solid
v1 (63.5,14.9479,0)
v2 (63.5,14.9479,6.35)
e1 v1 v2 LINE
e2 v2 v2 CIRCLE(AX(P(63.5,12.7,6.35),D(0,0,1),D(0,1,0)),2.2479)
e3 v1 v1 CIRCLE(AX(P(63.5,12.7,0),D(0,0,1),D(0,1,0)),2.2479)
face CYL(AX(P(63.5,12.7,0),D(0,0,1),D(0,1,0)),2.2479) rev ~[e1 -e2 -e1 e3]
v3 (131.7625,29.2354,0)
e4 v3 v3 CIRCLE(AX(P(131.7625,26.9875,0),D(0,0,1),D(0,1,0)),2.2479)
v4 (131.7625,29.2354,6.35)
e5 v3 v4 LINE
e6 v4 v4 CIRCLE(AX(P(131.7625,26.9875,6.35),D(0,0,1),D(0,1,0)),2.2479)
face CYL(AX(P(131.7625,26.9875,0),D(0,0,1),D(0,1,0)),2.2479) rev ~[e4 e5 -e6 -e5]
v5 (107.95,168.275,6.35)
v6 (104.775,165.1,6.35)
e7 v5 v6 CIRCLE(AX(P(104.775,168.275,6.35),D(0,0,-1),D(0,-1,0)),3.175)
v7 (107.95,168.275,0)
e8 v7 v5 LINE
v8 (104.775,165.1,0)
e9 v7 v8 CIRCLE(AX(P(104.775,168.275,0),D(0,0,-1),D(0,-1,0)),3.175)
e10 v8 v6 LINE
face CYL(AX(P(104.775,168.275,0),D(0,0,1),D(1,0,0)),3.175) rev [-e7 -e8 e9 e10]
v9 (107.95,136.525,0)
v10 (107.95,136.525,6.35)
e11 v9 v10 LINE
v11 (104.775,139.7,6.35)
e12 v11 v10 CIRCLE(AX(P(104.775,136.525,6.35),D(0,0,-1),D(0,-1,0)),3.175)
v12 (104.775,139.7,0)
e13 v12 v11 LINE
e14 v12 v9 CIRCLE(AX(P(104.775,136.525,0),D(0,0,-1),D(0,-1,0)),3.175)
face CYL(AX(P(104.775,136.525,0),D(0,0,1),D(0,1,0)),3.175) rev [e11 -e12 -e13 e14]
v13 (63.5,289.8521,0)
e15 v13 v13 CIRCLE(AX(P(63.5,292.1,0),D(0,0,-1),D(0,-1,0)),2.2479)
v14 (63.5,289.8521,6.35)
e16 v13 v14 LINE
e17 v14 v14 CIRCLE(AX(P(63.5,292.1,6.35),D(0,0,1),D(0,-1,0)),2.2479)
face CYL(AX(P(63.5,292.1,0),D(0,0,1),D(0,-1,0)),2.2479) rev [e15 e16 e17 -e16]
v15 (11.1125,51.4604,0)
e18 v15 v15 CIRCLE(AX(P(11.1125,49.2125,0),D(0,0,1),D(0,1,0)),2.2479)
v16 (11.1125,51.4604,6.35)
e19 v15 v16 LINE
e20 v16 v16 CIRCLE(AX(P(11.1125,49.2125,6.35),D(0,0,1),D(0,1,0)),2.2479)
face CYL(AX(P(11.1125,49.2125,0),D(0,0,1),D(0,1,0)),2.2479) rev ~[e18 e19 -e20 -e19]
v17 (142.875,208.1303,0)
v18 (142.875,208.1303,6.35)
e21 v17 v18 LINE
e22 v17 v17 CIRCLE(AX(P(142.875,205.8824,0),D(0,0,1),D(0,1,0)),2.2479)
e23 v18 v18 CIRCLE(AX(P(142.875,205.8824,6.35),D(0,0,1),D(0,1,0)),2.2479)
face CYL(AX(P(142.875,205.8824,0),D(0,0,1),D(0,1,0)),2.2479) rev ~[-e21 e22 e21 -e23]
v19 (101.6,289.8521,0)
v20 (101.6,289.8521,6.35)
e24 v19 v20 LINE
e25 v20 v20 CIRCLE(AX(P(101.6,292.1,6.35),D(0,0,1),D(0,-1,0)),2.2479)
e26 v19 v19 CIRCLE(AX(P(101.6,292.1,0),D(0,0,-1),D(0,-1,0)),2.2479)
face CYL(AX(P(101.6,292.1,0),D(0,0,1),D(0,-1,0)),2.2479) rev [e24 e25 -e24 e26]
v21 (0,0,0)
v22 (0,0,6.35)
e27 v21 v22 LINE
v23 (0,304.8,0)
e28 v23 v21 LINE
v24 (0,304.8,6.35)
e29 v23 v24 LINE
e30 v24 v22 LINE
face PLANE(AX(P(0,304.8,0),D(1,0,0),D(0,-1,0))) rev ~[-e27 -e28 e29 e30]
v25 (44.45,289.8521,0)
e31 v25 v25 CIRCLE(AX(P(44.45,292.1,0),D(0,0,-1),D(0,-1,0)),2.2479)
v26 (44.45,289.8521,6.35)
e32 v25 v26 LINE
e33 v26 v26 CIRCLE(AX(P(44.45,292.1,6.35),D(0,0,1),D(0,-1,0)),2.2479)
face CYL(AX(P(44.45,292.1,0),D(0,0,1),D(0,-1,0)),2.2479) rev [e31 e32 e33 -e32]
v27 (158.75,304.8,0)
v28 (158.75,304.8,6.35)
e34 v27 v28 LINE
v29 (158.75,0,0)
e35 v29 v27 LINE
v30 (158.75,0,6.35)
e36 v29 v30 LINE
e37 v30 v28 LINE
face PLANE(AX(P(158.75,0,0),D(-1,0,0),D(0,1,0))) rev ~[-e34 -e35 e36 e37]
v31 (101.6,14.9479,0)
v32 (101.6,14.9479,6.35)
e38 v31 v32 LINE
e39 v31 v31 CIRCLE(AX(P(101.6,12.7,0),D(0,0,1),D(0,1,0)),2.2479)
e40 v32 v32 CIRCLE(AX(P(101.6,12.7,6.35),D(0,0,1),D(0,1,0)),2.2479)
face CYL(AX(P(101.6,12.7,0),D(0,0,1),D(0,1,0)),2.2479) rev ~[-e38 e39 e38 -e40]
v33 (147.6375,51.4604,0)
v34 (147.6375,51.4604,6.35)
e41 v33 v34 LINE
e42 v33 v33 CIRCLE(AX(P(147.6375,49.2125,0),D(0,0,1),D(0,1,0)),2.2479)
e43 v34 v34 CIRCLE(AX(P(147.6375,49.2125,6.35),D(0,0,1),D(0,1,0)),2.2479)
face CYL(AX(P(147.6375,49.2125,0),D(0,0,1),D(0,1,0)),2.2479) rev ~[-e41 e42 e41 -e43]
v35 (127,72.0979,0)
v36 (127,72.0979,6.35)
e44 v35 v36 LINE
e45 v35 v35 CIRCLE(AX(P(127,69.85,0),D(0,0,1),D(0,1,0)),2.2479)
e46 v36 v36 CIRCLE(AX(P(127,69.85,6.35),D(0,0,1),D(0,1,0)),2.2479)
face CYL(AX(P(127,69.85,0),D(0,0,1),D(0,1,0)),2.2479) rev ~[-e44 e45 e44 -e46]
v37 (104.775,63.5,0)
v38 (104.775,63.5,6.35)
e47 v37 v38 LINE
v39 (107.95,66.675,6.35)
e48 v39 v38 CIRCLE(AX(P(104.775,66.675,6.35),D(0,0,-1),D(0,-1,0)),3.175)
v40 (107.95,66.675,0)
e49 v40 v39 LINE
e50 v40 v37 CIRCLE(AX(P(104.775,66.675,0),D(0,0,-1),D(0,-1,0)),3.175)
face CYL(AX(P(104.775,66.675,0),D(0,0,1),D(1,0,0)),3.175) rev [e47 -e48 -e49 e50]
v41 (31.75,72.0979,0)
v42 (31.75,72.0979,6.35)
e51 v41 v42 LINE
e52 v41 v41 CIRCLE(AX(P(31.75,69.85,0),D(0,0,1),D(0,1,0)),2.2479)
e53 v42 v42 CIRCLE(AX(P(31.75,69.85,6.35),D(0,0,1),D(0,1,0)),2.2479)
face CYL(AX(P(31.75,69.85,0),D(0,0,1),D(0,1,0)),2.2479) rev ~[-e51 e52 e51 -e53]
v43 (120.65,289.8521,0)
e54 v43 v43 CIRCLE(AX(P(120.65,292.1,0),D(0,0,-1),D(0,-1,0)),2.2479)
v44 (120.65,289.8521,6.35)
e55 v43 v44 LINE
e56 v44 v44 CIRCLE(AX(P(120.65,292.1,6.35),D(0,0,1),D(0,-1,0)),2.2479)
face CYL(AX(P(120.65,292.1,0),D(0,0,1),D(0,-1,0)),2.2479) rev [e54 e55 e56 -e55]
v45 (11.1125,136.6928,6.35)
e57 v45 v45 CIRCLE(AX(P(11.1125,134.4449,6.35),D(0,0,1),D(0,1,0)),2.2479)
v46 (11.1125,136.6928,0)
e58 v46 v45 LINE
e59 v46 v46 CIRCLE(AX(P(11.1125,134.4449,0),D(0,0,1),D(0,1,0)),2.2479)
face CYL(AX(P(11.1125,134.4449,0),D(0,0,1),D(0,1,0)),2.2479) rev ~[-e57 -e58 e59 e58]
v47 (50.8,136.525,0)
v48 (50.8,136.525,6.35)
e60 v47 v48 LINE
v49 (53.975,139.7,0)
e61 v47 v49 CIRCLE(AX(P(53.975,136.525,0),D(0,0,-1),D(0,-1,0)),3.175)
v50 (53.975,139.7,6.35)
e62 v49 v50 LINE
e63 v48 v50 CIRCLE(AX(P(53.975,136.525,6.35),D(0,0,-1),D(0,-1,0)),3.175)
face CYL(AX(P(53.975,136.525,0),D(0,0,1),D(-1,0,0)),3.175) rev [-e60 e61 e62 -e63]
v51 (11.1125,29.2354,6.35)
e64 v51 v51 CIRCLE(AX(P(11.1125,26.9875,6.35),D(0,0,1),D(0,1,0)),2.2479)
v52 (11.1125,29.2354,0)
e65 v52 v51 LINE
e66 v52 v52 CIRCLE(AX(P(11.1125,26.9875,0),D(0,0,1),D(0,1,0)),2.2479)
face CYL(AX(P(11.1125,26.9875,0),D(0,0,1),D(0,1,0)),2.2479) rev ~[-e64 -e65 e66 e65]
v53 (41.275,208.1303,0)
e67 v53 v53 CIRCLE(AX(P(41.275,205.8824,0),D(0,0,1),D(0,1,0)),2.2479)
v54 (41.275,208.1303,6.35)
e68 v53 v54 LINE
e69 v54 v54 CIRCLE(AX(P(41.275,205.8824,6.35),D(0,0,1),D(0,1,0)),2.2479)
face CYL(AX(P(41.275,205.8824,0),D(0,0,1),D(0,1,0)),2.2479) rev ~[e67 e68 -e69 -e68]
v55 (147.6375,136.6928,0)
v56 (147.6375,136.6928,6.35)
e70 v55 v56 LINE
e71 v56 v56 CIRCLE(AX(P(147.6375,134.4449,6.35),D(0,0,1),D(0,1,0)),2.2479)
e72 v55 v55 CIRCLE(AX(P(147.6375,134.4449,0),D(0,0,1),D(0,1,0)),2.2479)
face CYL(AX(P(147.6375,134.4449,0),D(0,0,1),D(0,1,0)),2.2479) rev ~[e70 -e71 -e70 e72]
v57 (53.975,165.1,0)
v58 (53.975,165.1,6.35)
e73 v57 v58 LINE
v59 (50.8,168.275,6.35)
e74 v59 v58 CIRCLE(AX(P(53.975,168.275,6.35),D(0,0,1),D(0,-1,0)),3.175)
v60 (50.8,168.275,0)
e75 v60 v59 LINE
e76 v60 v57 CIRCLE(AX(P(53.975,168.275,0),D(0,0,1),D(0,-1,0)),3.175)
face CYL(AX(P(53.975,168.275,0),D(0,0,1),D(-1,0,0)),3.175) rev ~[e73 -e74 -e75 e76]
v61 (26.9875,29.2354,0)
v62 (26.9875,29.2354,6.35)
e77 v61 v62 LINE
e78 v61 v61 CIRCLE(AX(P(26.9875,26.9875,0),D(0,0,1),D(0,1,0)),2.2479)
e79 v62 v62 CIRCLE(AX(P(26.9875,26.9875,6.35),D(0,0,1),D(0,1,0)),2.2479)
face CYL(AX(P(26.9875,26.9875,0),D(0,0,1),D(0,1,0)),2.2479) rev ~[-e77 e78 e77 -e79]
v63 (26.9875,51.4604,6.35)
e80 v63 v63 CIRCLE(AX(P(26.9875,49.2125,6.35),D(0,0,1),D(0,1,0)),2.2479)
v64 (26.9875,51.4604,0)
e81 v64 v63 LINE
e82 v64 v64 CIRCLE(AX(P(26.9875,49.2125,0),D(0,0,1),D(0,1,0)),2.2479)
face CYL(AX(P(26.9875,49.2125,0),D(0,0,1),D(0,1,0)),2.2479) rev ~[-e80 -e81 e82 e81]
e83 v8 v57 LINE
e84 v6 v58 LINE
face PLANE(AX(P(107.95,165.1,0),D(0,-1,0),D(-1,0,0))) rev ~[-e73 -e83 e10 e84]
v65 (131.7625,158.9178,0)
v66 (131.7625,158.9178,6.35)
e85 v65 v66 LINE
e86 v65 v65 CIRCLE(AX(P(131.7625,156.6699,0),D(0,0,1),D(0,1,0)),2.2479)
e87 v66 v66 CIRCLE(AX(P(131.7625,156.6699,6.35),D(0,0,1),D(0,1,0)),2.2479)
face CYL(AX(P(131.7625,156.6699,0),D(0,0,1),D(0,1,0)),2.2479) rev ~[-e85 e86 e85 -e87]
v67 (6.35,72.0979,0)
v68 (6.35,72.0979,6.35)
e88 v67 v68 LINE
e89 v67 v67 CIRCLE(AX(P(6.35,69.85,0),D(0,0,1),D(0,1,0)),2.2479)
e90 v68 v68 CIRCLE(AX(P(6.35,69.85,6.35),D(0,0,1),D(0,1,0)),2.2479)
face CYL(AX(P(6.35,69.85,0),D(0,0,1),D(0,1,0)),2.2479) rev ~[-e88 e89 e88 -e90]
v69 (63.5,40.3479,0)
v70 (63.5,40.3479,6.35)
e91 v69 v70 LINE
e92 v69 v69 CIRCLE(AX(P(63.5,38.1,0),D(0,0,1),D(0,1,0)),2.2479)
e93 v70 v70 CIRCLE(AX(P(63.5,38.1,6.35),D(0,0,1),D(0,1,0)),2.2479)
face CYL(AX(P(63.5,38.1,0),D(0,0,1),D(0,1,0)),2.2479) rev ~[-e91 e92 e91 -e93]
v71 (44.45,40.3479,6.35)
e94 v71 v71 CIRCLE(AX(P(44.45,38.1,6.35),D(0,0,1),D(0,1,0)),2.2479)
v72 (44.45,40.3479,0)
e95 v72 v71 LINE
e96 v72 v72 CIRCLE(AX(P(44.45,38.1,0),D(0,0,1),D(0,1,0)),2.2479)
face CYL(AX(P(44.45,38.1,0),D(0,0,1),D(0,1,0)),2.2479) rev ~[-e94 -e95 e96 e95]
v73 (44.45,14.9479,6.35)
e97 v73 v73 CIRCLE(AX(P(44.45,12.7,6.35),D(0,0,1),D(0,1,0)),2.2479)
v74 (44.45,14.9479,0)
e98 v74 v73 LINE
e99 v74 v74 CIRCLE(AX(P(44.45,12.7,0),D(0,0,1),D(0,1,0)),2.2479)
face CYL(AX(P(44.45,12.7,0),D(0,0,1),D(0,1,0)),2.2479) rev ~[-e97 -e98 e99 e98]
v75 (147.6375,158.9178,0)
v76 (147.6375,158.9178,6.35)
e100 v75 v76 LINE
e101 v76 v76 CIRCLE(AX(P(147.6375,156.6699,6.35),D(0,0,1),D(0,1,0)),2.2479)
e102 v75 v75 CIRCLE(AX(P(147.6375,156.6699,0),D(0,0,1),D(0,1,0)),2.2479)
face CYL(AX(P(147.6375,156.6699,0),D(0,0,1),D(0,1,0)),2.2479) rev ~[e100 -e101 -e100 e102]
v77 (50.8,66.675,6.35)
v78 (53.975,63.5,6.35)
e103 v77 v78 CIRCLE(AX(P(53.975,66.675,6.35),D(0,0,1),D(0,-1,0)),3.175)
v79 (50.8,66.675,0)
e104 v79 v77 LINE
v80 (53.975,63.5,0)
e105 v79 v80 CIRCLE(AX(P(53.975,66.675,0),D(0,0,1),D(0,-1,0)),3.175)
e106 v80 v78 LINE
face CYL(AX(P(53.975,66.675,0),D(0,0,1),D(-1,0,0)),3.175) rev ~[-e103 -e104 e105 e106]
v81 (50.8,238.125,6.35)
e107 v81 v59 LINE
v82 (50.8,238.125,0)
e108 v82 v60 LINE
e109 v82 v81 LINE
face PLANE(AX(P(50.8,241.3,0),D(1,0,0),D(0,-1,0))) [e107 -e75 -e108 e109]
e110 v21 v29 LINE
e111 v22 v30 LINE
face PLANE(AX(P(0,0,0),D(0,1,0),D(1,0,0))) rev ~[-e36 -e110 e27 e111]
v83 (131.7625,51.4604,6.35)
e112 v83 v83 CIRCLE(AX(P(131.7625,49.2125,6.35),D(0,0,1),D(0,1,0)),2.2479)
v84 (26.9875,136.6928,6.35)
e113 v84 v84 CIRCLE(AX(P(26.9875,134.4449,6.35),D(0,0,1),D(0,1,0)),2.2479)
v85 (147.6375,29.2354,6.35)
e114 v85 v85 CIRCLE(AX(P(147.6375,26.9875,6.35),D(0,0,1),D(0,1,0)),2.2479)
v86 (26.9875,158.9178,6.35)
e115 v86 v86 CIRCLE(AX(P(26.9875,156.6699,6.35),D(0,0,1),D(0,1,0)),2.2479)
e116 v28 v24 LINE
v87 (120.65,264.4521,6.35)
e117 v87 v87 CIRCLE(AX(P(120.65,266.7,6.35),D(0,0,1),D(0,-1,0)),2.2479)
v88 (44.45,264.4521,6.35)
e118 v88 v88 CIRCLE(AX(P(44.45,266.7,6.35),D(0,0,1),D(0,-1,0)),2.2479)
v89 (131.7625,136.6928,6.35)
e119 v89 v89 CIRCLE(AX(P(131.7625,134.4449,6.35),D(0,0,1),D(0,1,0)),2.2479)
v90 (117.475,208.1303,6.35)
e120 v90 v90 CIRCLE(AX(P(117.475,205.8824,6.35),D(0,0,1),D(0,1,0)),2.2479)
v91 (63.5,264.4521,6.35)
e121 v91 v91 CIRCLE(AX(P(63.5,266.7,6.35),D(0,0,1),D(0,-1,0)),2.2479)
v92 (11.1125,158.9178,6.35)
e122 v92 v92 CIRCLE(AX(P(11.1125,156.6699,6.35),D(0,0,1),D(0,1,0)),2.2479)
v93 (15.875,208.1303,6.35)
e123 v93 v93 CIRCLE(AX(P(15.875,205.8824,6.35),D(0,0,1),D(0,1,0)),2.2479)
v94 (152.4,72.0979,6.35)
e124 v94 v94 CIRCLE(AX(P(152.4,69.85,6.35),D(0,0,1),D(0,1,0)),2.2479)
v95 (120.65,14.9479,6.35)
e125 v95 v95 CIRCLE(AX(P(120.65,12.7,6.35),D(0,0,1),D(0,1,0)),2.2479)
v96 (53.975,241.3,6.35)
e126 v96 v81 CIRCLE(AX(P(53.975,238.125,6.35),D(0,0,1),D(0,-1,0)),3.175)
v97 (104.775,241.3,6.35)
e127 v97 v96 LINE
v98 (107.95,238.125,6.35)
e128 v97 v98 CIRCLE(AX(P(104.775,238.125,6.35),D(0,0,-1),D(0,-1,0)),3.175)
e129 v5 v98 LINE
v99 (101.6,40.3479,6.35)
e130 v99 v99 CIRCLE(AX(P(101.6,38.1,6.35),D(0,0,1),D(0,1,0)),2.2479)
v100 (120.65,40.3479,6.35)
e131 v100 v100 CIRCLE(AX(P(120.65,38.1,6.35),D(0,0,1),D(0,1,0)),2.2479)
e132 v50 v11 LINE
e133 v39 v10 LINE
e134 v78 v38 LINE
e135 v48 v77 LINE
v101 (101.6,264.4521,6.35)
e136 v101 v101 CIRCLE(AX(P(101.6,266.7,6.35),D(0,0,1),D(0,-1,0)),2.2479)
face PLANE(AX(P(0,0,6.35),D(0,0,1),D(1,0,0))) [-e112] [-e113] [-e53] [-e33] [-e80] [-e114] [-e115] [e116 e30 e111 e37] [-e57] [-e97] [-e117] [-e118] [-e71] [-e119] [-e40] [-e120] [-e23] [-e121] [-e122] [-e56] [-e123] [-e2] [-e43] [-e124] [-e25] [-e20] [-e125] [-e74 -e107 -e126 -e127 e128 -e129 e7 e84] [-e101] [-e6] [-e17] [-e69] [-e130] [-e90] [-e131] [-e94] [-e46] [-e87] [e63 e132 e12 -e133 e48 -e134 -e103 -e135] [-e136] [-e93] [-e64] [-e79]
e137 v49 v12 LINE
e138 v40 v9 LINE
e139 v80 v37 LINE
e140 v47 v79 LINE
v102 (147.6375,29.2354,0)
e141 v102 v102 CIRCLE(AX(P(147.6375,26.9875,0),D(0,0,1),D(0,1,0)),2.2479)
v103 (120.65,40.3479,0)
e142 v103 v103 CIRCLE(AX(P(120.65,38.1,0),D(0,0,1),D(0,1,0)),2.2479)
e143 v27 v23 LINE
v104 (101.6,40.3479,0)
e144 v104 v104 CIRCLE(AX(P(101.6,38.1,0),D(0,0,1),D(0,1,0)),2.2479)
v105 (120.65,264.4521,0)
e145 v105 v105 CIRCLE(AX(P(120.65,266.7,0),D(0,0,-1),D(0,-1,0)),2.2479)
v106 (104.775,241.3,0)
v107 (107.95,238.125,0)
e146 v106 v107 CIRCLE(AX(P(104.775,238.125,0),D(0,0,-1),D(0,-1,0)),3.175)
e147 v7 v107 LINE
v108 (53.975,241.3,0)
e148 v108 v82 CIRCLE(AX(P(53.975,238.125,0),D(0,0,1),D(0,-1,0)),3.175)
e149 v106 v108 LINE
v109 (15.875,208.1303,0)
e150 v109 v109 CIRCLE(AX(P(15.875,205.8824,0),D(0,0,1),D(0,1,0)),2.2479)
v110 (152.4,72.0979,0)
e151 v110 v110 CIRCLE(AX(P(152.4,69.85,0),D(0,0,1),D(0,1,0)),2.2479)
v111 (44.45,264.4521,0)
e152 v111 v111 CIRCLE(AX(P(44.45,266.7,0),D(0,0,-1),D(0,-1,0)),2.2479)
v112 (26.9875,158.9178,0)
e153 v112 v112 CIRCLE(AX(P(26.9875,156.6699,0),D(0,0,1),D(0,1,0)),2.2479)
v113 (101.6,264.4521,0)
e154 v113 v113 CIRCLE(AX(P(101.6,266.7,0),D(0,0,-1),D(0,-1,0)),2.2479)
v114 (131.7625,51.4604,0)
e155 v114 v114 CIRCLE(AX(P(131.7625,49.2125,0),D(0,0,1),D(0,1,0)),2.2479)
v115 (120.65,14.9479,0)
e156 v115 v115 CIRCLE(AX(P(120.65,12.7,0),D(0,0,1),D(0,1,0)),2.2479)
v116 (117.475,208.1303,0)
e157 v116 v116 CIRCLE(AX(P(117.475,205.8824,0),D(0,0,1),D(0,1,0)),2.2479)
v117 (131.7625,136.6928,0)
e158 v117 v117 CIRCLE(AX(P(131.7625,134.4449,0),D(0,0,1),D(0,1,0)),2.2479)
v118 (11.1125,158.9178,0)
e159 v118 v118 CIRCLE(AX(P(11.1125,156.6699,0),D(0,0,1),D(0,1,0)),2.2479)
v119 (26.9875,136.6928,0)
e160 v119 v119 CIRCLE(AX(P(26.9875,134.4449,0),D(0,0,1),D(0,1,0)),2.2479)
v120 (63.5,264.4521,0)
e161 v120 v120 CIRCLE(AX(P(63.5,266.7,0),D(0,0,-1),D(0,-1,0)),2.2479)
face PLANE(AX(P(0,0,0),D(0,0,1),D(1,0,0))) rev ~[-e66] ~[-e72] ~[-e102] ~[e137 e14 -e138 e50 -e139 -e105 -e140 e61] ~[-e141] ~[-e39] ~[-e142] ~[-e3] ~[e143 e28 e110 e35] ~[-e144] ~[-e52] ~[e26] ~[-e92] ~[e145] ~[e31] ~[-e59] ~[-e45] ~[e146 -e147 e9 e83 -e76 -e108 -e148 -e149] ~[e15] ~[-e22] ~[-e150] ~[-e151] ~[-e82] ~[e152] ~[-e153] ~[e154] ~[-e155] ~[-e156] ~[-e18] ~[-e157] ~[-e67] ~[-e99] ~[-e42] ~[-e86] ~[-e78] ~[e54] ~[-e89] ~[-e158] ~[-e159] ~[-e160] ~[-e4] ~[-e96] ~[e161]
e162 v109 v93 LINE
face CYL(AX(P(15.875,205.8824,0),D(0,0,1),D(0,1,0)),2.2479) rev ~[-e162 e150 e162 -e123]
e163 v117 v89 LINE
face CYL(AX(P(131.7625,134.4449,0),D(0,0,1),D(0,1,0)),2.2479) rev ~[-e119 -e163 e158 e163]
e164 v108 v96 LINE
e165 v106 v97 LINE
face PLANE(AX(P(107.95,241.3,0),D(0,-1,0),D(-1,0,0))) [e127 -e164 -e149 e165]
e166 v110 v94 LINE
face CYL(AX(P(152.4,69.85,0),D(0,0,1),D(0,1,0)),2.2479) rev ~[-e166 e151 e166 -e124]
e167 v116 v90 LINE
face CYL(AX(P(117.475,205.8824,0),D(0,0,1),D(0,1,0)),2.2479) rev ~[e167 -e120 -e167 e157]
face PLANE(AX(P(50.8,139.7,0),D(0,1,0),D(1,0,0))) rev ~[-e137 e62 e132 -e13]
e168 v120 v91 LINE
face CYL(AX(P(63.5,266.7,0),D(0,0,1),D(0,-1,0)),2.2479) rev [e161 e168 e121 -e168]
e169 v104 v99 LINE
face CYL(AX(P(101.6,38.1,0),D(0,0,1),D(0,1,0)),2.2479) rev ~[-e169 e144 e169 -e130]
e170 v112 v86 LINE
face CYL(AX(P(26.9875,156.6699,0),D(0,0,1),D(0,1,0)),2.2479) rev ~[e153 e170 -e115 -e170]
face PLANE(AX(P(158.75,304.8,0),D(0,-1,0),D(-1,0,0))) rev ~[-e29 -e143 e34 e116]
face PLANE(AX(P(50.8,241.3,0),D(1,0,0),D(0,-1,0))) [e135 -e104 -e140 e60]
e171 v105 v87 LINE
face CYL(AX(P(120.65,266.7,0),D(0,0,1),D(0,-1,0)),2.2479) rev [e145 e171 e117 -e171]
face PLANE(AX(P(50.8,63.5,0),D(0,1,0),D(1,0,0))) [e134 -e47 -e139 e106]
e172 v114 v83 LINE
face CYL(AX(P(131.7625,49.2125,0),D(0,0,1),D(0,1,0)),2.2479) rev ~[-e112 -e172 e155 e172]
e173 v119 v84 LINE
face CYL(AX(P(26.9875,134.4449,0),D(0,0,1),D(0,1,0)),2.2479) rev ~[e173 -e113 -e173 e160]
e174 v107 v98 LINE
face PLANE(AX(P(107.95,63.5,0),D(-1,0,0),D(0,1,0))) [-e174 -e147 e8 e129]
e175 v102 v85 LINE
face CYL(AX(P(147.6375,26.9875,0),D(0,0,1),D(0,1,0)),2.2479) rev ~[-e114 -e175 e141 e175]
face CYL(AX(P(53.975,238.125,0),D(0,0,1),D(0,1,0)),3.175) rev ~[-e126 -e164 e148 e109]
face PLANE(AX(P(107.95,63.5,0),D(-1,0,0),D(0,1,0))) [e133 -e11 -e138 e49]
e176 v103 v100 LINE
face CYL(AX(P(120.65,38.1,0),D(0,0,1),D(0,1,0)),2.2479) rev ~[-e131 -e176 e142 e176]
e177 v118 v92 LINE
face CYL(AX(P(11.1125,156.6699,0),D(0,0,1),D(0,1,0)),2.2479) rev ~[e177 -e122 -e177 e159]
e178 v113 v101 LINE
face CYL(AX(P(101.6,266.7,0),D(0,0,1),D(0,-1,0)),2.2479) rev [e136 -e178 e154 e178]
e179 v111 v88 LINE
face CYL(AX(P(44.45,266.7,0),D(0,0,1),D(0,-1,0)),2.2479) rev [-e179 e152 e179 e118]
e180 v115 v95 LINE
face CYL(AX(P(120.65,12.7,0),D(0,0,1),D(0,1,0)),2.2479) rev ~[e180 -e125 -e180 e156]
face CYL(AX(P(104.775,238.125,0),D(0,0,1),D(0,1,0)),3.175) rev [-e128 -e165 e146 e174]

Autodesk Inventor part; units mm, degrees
ref_plane "YZ Plane" through (0, 0, 0) normal (1, 0, 0) x (0, 1, 0)
ref_plane "XZ Plane" through (0, 0, 0) normal (0, 1, 0) x (-1, 0, 0)
ref_plane "XY Plane" through (0, 0, 0) normal (0, 0, 1) x (1, 0, 0)
sketch "Sketch1" plane through (0, 0, 0) normal (0, 0, 1) x (1, 0, 0)
  line L0 (0, 0) -> (158.75, 0)
  line L1 (158.75, 0) -> (158.75, 304.8)
  line L2 (158.75, 304.8) -> (0, 304.8)
  line L3 (0, 304.8) -> (0, 0)
  dimension "d0" = 158.75
  dimension "d1" = 304.8
extrude "Extrusion1" add sketch "Sketch1" along normal blind 6.35
sketch "Sketch2" plane through (0, 0, 0) normal (0, 0, -1) x (-1, 0, 0)
  circle A0 centre (-117.475, 205.8824) radius 2.4638 projected
  line L0 (-177.2766, 228.1074) -> (-172.9586, 228.1074) projected
  circle A1 centre (-142.875, 205.8824) radius 2.4638 projected
  circle A2 centre (-41.275, 205.8824) radius 2.4638 projected
  circle A3 centre (-15.875, 205.8824) radius 2.4638 projected
  circle A4 centre (-147.6375, 26.9875) radius 2.4638 projected
  circle A5 centre (-131.7625, 26.9875) radius 2.4638 projected
  circle A6 centre (-131.7625, 49.2125) radius 2.4638 projected
  circle A7 centre (-147.6375, 49.2125) radius 2.4638 projected
  circle A8 centre (-26.9875, 26.9875) radius 2.4638 projected
  circle A9 centre (-11.1125, 26.9875) radius 2.4638 projected
  circle A10 centre (-11.1125, 49.2125) radius 2.4638 projected
  circle A11 centre (-26.9875, 49.2125) radius 2.4638 projected
  circle A12 centre (-11.1125, 156.6699) radius 2.4638 projected
  circle A13 centre (-11.1125, 134.4449) radius 2.4638 projected
  circle A14 centre (-26.9875, 134.4449) radius 2.4638 projected
  circle A15 centre (-26.9875, 156.6699) radius 2.4638 projected
  circle A16 centre (-147.6375, 134.4449) radius 2.4638 projected
  circle A17 centre (-131.7625, 134.4449) radius 2.4638 projected
  circle A18 centre (-147.6375, 156.6699) radius 2.4638 projected
  circle A19 centre (-131.7625, 156.6699) radius 2.4638 projected
  point P0 (0, 0)
sketch "Sketch3" plane through (0, 0, 0) normal (0, 0, -1) x (-1, 0, 0)
  line L0 (47.625, 49.2116) -> (-206.375, 49.2116) projected
  point P0 (0, 0)
  point P1 (-142.875, 205.8824)
  point P2 (-117.475, 205.8824)
  point P3 (-131.7625, 156.6699)
  point P4 (-147.6375, 156.6699)
  point P5 (-147.6375, 134.4449)
  point P6 (-131.7625, 134.4449)
  point P7 (-147.6375, 49.2125)
  point P8 (-131.7625, 49.2125)
  point P9 (-131.7625, 26.9875)
  point P10 (-147.6375, 26.9875)
  point P11 (-26.9875, 26.9875)
  point P12 (-11.1125, 26.9875)
  point P13 (-11.1125, 49.2125)
  point P14 (-26.9875, 49.2125)
  point P15 (-26.9875, 134.4449)
  point P16 (-11.1125, 134.4449)
  point P17 (-11.1125, 156.6699)
  point P18 (-26.9875, 156.6699)
  point P19 (-41.275, 205.8824)
  point P20 (-15.875, 205.8824)
hole "Hole1" at (142.875, 205.8824, 0) at (117.475, 205.8824, 0) at (41.275, 205.8824, 0) at (15.875, 205.8824, 0) at (26.9875, 156.6699, 0) at (11.1125, 156.6699, 0) at (11.1125, 134.4449, 0) at (26.9875, 134.4449, 0) at (131.7625, 156.6699, 0) at (147.6375, 156.6699, 0) at (131.7625, 134.4449, 0) at (147.6375, 134.4449, 0) at (147.6375, 49.2125, 0) at (131.7625, 49.2125, 0) at (131.7625, 26.9875, 0) at (147.6375, 26.9875, 0) at (26.9875, 26.9875, 0) at (11.1125, 26.9875, 0) at (11.1125, 49.2125, 0) at (26.9875, 49.2125, 0) direction (0, 0, 1) diameter 4.4958 depth 25.4 tip angle 118 clearance for "Flat Head Machine Screw (82)" size "#8" standard "Ansi Unified Screw Threads"
sketch "Sketch4" plane through (0, 0, 0) normal (0, 0, -1) x (-1, 0, 0)
  circle A0 centre (-11.1125, 49.2125) radius 2.2479 projected
  circle A1 centre (-26.9875, 26.9875) radius 2.2479 projected
  circle A2 centre (-131.7625, 26.9875) radius 2.2479 projected
  circle A3 centre (-147.6375, 49.2125) radius 2.2479 projected
  circle A4 centre (-131.7625, 134.4449) radius 2.2479 projected
  circle A5 centre (-131.7625, 156.6699) radius 2.2479 projected
  circle A6 centre (-11.1125, 134.4449) radius 2.2479 projected
  circle A7 centre (-26.9875, 156.6699) radius 2.2479 projected
  circle A8 centre (-41.275, 205.8824) radius 2.2479 projected
  circle A9 centre (-142.875, 205.8824) radius 2.2479 projected
  circle A10 centre (-117.475, 205.8824) radius 2.2479 projected
  circle A11 centre (-15.875, 205.8824) radius 2.2479 projected
  circle A12 centre (-11.1125, 156.6699) radius 2.2479 projected
  circle A13 centre (-26.9875, 134.4449) radius 2.2479 projected
  circle A14 centre (-147.6375, 156.6699) radius 2.2479 projected
  circle A15 centre (-147.6375, 134.4449) radius 2.2479 projected
  circle A16 centre (-131.7625, 49.2125) radius 2.2479 projected
  circle A17 centre (-147.6375, 26.9875) radius 2.2479 projected
  circle A18 centre (-11.1125, 26.9875) radius 2.2479 projected
  circle A19 centre (-26.9875, 49.2125) radius 2.2479 projected
  line L0 (0, 0) -> (-158.75, 0) projected
  line L1 (0, 304.8) -> (0, 0) projected
  line L2 (-158.75, 304.8) -> (0, 304.8) projected
  line L3 (-158.75, 0) -> (-158.75, 304.8) projected
  line L4 (-82.55, 718.8359) -> (-82.55, -134.6309)
  line L5 (0, 0) -> (-158.75, 0) projected
  point P0 (-120.65, 38.1)
  point P1 (-120.65, 12.7)
  point P2 (-44.45, 38.1)
  point P3 (-44.45, 12.7)
  point P4 (-101.6, 38.1)
  point P5 (-63.5, 38.1)
  point P6 (-63.5, 12.7)
  point P7 (-101.6, 12.7)
  dimension "d11" = 19.05
  dimension "d12" = 19.05
  dimension "d13" = 19.05
  dimension "d14" = 19.05
  dimension "d15" = 19.05
  dimension "d16" = 19.05
  dimension "d17" = 19.05
  dimension "d18" = 19.05
  dimension "d19" = 25.4
  dimension "d20" = 25.4
  dimension "d21" = 12.7
  dimension "d22" = 12.7
  dimension "d23" = 12.7
  dimension "d24" = 12.7
hole "Hole2" at (120.65, 38.1, 0) at (120.65, 12.7, 0) at (44.45, 38.1, 0) at (44.45, 12.7, 0) at (101.6, 38.1, 0) at (63.5, 38.1, 0) at (63.5, 12.7, 0) at (101.6, 12.7, 0) direction (0, 0, 1) diameter 4.4958 depth 25.4 tip angle 118 clearance for "Flat Head Machine Screw (82)" size "#8" standard "Ansi Unified Screw Threads"
ref_plane "Work Plane1" through (0, 152.4, 0) normal (0, 1, 0) x (1, 0, 0)
mirror "Mirror1" about plane through (0, 152.4, 0) normal (0, 1, 0) of "Hole2"
sketch "Sketch5" plane through (0, 0, 0) normal (0, 0, -1) x (-1, 0, 0)
  line L0 (-107.95, 241.3) -> (-50.8, 241.3)
  line L1 (-50.8, 241.3) -> (-50.8, 63.5)
  line L2 (-50.8, 63.5) -> (-107.95, 63.5)
  line L3 (-107.95, 63.5) -> (-107.95, 241.3)
  line L4 (0, 0) -> (-158.75, 0) projected
  line L5 (-158.75, 304.8) -> (0, 304.8) projected
  line L6 (0, 304.8) -> (0, 0) projected
  line L7 (-158.75, 0) -> (-158.75, 304.8) projected
  dimension "d32" = 63.5
  dimension "d33" = 63.5
  dimension "d34" = 50.8
  dimension "d35" = 50.8
extrude "Extrusion2" cut sketch "Sketch5" against normal blind 6.35 contours L0 L1 L2 L3
sketch "Sketch6" plane through (0, 0, 0) normal (0, 0, -1) x (-1, 0, 0)
  line L0 (-107.95, 63.5) -> (-107.95, 241.3) projected
  line L1 (-50.8, 241.3) -> (-50.8, 63.5) projected
  line L2 (-107.95, 165.1) -> (-50.8, 165.1)
  line L3 (-50.8, 165.1) -> (-50.8, 139.7)
  line L4 (-50.8, 139.7) -> (-107.95, 139.7)
  line L5 (-107.95, 139.7) -> (-107.95, 165.1)
  line L6 (-212.7319, 152.4) -> (35.4553, 152.4) projected
  point P0 (0, 0)
  dimension "d38" = 12.7
  dimension "d39" = 12.7
extrude "Extrusion3" add sketch "Sketch6" against normal up to surface (6.35 mm away)
fillet "Fillet1" radius 3.175 4 edges at (50.8, 241.3, 3.175) (107.95, 241.3, 3.175) (107.95, 165.1, 3.175) (50.8, 165.1, 3.175)
fillet "Fillet2" radius 3.175 4 edges at (107.95, 139.7, 3.175) (50.8, 139.7, 3.175) (107.95, 63.5, 3.175) (50.8, 63.5, 3.175)
sketch "Sketch7" plane through (0, 0, 0) normal (0, 0, -1) x (-1, 0, 0)
  line L0 (0, 0) -> (-158.75, 0) projected
  line L1 (0, 304.8) -> (0, 0) projected
  line L2 (-158.75, 0) -> (-158.75, 304.8) projected
  point P0 (-127, 69.85)
  point P1 (-152.4, 69.85)
  point P2 (-6.35, 69.85)
  point P3 (-31.75, 69.85)
  dimension "d44" = 25.4
  dimension "d45" = 69.85
  dimension "d46" = 69.85
  dimension "d47" = 69.85
  dimension "d48" = 69.85
  dimension "d49" = 25.4
  dimension "d50" = 6.35
  dimension "d51" = 6.35
hole "Hole3" at (127, 69.85, 0) at (152.4, 69.85, 0) at (6.35, 69.85, 0) at (31.75, 69.85, 0) direction (0, 0, 1) diameter 4.4958 depth 25.4 tip angle 118 clearance for "Flat Head Machine Screw (82)" size "#8" standard "Ansi Unified Screw Threads"
equation "\"d14\" = d11"
equation "\"d15\" = d14"
equation "\"d16\" = d14"
equation "\"d17\" = d11"
equation "\"d18\" = d11"
equation "\"d20\" = d19"
equation "\"d22\" = d21"
equation "\"d23\" = d22"
equation "\"d24\" = d21"
equation "\"d39\" = d38"
equation "\"d46\" = d45"
equation "\"d47\" = d46"
equation "\"d48\" = d47"
equation "\"d49\" = d44"
properties part number "Gripper Back"
